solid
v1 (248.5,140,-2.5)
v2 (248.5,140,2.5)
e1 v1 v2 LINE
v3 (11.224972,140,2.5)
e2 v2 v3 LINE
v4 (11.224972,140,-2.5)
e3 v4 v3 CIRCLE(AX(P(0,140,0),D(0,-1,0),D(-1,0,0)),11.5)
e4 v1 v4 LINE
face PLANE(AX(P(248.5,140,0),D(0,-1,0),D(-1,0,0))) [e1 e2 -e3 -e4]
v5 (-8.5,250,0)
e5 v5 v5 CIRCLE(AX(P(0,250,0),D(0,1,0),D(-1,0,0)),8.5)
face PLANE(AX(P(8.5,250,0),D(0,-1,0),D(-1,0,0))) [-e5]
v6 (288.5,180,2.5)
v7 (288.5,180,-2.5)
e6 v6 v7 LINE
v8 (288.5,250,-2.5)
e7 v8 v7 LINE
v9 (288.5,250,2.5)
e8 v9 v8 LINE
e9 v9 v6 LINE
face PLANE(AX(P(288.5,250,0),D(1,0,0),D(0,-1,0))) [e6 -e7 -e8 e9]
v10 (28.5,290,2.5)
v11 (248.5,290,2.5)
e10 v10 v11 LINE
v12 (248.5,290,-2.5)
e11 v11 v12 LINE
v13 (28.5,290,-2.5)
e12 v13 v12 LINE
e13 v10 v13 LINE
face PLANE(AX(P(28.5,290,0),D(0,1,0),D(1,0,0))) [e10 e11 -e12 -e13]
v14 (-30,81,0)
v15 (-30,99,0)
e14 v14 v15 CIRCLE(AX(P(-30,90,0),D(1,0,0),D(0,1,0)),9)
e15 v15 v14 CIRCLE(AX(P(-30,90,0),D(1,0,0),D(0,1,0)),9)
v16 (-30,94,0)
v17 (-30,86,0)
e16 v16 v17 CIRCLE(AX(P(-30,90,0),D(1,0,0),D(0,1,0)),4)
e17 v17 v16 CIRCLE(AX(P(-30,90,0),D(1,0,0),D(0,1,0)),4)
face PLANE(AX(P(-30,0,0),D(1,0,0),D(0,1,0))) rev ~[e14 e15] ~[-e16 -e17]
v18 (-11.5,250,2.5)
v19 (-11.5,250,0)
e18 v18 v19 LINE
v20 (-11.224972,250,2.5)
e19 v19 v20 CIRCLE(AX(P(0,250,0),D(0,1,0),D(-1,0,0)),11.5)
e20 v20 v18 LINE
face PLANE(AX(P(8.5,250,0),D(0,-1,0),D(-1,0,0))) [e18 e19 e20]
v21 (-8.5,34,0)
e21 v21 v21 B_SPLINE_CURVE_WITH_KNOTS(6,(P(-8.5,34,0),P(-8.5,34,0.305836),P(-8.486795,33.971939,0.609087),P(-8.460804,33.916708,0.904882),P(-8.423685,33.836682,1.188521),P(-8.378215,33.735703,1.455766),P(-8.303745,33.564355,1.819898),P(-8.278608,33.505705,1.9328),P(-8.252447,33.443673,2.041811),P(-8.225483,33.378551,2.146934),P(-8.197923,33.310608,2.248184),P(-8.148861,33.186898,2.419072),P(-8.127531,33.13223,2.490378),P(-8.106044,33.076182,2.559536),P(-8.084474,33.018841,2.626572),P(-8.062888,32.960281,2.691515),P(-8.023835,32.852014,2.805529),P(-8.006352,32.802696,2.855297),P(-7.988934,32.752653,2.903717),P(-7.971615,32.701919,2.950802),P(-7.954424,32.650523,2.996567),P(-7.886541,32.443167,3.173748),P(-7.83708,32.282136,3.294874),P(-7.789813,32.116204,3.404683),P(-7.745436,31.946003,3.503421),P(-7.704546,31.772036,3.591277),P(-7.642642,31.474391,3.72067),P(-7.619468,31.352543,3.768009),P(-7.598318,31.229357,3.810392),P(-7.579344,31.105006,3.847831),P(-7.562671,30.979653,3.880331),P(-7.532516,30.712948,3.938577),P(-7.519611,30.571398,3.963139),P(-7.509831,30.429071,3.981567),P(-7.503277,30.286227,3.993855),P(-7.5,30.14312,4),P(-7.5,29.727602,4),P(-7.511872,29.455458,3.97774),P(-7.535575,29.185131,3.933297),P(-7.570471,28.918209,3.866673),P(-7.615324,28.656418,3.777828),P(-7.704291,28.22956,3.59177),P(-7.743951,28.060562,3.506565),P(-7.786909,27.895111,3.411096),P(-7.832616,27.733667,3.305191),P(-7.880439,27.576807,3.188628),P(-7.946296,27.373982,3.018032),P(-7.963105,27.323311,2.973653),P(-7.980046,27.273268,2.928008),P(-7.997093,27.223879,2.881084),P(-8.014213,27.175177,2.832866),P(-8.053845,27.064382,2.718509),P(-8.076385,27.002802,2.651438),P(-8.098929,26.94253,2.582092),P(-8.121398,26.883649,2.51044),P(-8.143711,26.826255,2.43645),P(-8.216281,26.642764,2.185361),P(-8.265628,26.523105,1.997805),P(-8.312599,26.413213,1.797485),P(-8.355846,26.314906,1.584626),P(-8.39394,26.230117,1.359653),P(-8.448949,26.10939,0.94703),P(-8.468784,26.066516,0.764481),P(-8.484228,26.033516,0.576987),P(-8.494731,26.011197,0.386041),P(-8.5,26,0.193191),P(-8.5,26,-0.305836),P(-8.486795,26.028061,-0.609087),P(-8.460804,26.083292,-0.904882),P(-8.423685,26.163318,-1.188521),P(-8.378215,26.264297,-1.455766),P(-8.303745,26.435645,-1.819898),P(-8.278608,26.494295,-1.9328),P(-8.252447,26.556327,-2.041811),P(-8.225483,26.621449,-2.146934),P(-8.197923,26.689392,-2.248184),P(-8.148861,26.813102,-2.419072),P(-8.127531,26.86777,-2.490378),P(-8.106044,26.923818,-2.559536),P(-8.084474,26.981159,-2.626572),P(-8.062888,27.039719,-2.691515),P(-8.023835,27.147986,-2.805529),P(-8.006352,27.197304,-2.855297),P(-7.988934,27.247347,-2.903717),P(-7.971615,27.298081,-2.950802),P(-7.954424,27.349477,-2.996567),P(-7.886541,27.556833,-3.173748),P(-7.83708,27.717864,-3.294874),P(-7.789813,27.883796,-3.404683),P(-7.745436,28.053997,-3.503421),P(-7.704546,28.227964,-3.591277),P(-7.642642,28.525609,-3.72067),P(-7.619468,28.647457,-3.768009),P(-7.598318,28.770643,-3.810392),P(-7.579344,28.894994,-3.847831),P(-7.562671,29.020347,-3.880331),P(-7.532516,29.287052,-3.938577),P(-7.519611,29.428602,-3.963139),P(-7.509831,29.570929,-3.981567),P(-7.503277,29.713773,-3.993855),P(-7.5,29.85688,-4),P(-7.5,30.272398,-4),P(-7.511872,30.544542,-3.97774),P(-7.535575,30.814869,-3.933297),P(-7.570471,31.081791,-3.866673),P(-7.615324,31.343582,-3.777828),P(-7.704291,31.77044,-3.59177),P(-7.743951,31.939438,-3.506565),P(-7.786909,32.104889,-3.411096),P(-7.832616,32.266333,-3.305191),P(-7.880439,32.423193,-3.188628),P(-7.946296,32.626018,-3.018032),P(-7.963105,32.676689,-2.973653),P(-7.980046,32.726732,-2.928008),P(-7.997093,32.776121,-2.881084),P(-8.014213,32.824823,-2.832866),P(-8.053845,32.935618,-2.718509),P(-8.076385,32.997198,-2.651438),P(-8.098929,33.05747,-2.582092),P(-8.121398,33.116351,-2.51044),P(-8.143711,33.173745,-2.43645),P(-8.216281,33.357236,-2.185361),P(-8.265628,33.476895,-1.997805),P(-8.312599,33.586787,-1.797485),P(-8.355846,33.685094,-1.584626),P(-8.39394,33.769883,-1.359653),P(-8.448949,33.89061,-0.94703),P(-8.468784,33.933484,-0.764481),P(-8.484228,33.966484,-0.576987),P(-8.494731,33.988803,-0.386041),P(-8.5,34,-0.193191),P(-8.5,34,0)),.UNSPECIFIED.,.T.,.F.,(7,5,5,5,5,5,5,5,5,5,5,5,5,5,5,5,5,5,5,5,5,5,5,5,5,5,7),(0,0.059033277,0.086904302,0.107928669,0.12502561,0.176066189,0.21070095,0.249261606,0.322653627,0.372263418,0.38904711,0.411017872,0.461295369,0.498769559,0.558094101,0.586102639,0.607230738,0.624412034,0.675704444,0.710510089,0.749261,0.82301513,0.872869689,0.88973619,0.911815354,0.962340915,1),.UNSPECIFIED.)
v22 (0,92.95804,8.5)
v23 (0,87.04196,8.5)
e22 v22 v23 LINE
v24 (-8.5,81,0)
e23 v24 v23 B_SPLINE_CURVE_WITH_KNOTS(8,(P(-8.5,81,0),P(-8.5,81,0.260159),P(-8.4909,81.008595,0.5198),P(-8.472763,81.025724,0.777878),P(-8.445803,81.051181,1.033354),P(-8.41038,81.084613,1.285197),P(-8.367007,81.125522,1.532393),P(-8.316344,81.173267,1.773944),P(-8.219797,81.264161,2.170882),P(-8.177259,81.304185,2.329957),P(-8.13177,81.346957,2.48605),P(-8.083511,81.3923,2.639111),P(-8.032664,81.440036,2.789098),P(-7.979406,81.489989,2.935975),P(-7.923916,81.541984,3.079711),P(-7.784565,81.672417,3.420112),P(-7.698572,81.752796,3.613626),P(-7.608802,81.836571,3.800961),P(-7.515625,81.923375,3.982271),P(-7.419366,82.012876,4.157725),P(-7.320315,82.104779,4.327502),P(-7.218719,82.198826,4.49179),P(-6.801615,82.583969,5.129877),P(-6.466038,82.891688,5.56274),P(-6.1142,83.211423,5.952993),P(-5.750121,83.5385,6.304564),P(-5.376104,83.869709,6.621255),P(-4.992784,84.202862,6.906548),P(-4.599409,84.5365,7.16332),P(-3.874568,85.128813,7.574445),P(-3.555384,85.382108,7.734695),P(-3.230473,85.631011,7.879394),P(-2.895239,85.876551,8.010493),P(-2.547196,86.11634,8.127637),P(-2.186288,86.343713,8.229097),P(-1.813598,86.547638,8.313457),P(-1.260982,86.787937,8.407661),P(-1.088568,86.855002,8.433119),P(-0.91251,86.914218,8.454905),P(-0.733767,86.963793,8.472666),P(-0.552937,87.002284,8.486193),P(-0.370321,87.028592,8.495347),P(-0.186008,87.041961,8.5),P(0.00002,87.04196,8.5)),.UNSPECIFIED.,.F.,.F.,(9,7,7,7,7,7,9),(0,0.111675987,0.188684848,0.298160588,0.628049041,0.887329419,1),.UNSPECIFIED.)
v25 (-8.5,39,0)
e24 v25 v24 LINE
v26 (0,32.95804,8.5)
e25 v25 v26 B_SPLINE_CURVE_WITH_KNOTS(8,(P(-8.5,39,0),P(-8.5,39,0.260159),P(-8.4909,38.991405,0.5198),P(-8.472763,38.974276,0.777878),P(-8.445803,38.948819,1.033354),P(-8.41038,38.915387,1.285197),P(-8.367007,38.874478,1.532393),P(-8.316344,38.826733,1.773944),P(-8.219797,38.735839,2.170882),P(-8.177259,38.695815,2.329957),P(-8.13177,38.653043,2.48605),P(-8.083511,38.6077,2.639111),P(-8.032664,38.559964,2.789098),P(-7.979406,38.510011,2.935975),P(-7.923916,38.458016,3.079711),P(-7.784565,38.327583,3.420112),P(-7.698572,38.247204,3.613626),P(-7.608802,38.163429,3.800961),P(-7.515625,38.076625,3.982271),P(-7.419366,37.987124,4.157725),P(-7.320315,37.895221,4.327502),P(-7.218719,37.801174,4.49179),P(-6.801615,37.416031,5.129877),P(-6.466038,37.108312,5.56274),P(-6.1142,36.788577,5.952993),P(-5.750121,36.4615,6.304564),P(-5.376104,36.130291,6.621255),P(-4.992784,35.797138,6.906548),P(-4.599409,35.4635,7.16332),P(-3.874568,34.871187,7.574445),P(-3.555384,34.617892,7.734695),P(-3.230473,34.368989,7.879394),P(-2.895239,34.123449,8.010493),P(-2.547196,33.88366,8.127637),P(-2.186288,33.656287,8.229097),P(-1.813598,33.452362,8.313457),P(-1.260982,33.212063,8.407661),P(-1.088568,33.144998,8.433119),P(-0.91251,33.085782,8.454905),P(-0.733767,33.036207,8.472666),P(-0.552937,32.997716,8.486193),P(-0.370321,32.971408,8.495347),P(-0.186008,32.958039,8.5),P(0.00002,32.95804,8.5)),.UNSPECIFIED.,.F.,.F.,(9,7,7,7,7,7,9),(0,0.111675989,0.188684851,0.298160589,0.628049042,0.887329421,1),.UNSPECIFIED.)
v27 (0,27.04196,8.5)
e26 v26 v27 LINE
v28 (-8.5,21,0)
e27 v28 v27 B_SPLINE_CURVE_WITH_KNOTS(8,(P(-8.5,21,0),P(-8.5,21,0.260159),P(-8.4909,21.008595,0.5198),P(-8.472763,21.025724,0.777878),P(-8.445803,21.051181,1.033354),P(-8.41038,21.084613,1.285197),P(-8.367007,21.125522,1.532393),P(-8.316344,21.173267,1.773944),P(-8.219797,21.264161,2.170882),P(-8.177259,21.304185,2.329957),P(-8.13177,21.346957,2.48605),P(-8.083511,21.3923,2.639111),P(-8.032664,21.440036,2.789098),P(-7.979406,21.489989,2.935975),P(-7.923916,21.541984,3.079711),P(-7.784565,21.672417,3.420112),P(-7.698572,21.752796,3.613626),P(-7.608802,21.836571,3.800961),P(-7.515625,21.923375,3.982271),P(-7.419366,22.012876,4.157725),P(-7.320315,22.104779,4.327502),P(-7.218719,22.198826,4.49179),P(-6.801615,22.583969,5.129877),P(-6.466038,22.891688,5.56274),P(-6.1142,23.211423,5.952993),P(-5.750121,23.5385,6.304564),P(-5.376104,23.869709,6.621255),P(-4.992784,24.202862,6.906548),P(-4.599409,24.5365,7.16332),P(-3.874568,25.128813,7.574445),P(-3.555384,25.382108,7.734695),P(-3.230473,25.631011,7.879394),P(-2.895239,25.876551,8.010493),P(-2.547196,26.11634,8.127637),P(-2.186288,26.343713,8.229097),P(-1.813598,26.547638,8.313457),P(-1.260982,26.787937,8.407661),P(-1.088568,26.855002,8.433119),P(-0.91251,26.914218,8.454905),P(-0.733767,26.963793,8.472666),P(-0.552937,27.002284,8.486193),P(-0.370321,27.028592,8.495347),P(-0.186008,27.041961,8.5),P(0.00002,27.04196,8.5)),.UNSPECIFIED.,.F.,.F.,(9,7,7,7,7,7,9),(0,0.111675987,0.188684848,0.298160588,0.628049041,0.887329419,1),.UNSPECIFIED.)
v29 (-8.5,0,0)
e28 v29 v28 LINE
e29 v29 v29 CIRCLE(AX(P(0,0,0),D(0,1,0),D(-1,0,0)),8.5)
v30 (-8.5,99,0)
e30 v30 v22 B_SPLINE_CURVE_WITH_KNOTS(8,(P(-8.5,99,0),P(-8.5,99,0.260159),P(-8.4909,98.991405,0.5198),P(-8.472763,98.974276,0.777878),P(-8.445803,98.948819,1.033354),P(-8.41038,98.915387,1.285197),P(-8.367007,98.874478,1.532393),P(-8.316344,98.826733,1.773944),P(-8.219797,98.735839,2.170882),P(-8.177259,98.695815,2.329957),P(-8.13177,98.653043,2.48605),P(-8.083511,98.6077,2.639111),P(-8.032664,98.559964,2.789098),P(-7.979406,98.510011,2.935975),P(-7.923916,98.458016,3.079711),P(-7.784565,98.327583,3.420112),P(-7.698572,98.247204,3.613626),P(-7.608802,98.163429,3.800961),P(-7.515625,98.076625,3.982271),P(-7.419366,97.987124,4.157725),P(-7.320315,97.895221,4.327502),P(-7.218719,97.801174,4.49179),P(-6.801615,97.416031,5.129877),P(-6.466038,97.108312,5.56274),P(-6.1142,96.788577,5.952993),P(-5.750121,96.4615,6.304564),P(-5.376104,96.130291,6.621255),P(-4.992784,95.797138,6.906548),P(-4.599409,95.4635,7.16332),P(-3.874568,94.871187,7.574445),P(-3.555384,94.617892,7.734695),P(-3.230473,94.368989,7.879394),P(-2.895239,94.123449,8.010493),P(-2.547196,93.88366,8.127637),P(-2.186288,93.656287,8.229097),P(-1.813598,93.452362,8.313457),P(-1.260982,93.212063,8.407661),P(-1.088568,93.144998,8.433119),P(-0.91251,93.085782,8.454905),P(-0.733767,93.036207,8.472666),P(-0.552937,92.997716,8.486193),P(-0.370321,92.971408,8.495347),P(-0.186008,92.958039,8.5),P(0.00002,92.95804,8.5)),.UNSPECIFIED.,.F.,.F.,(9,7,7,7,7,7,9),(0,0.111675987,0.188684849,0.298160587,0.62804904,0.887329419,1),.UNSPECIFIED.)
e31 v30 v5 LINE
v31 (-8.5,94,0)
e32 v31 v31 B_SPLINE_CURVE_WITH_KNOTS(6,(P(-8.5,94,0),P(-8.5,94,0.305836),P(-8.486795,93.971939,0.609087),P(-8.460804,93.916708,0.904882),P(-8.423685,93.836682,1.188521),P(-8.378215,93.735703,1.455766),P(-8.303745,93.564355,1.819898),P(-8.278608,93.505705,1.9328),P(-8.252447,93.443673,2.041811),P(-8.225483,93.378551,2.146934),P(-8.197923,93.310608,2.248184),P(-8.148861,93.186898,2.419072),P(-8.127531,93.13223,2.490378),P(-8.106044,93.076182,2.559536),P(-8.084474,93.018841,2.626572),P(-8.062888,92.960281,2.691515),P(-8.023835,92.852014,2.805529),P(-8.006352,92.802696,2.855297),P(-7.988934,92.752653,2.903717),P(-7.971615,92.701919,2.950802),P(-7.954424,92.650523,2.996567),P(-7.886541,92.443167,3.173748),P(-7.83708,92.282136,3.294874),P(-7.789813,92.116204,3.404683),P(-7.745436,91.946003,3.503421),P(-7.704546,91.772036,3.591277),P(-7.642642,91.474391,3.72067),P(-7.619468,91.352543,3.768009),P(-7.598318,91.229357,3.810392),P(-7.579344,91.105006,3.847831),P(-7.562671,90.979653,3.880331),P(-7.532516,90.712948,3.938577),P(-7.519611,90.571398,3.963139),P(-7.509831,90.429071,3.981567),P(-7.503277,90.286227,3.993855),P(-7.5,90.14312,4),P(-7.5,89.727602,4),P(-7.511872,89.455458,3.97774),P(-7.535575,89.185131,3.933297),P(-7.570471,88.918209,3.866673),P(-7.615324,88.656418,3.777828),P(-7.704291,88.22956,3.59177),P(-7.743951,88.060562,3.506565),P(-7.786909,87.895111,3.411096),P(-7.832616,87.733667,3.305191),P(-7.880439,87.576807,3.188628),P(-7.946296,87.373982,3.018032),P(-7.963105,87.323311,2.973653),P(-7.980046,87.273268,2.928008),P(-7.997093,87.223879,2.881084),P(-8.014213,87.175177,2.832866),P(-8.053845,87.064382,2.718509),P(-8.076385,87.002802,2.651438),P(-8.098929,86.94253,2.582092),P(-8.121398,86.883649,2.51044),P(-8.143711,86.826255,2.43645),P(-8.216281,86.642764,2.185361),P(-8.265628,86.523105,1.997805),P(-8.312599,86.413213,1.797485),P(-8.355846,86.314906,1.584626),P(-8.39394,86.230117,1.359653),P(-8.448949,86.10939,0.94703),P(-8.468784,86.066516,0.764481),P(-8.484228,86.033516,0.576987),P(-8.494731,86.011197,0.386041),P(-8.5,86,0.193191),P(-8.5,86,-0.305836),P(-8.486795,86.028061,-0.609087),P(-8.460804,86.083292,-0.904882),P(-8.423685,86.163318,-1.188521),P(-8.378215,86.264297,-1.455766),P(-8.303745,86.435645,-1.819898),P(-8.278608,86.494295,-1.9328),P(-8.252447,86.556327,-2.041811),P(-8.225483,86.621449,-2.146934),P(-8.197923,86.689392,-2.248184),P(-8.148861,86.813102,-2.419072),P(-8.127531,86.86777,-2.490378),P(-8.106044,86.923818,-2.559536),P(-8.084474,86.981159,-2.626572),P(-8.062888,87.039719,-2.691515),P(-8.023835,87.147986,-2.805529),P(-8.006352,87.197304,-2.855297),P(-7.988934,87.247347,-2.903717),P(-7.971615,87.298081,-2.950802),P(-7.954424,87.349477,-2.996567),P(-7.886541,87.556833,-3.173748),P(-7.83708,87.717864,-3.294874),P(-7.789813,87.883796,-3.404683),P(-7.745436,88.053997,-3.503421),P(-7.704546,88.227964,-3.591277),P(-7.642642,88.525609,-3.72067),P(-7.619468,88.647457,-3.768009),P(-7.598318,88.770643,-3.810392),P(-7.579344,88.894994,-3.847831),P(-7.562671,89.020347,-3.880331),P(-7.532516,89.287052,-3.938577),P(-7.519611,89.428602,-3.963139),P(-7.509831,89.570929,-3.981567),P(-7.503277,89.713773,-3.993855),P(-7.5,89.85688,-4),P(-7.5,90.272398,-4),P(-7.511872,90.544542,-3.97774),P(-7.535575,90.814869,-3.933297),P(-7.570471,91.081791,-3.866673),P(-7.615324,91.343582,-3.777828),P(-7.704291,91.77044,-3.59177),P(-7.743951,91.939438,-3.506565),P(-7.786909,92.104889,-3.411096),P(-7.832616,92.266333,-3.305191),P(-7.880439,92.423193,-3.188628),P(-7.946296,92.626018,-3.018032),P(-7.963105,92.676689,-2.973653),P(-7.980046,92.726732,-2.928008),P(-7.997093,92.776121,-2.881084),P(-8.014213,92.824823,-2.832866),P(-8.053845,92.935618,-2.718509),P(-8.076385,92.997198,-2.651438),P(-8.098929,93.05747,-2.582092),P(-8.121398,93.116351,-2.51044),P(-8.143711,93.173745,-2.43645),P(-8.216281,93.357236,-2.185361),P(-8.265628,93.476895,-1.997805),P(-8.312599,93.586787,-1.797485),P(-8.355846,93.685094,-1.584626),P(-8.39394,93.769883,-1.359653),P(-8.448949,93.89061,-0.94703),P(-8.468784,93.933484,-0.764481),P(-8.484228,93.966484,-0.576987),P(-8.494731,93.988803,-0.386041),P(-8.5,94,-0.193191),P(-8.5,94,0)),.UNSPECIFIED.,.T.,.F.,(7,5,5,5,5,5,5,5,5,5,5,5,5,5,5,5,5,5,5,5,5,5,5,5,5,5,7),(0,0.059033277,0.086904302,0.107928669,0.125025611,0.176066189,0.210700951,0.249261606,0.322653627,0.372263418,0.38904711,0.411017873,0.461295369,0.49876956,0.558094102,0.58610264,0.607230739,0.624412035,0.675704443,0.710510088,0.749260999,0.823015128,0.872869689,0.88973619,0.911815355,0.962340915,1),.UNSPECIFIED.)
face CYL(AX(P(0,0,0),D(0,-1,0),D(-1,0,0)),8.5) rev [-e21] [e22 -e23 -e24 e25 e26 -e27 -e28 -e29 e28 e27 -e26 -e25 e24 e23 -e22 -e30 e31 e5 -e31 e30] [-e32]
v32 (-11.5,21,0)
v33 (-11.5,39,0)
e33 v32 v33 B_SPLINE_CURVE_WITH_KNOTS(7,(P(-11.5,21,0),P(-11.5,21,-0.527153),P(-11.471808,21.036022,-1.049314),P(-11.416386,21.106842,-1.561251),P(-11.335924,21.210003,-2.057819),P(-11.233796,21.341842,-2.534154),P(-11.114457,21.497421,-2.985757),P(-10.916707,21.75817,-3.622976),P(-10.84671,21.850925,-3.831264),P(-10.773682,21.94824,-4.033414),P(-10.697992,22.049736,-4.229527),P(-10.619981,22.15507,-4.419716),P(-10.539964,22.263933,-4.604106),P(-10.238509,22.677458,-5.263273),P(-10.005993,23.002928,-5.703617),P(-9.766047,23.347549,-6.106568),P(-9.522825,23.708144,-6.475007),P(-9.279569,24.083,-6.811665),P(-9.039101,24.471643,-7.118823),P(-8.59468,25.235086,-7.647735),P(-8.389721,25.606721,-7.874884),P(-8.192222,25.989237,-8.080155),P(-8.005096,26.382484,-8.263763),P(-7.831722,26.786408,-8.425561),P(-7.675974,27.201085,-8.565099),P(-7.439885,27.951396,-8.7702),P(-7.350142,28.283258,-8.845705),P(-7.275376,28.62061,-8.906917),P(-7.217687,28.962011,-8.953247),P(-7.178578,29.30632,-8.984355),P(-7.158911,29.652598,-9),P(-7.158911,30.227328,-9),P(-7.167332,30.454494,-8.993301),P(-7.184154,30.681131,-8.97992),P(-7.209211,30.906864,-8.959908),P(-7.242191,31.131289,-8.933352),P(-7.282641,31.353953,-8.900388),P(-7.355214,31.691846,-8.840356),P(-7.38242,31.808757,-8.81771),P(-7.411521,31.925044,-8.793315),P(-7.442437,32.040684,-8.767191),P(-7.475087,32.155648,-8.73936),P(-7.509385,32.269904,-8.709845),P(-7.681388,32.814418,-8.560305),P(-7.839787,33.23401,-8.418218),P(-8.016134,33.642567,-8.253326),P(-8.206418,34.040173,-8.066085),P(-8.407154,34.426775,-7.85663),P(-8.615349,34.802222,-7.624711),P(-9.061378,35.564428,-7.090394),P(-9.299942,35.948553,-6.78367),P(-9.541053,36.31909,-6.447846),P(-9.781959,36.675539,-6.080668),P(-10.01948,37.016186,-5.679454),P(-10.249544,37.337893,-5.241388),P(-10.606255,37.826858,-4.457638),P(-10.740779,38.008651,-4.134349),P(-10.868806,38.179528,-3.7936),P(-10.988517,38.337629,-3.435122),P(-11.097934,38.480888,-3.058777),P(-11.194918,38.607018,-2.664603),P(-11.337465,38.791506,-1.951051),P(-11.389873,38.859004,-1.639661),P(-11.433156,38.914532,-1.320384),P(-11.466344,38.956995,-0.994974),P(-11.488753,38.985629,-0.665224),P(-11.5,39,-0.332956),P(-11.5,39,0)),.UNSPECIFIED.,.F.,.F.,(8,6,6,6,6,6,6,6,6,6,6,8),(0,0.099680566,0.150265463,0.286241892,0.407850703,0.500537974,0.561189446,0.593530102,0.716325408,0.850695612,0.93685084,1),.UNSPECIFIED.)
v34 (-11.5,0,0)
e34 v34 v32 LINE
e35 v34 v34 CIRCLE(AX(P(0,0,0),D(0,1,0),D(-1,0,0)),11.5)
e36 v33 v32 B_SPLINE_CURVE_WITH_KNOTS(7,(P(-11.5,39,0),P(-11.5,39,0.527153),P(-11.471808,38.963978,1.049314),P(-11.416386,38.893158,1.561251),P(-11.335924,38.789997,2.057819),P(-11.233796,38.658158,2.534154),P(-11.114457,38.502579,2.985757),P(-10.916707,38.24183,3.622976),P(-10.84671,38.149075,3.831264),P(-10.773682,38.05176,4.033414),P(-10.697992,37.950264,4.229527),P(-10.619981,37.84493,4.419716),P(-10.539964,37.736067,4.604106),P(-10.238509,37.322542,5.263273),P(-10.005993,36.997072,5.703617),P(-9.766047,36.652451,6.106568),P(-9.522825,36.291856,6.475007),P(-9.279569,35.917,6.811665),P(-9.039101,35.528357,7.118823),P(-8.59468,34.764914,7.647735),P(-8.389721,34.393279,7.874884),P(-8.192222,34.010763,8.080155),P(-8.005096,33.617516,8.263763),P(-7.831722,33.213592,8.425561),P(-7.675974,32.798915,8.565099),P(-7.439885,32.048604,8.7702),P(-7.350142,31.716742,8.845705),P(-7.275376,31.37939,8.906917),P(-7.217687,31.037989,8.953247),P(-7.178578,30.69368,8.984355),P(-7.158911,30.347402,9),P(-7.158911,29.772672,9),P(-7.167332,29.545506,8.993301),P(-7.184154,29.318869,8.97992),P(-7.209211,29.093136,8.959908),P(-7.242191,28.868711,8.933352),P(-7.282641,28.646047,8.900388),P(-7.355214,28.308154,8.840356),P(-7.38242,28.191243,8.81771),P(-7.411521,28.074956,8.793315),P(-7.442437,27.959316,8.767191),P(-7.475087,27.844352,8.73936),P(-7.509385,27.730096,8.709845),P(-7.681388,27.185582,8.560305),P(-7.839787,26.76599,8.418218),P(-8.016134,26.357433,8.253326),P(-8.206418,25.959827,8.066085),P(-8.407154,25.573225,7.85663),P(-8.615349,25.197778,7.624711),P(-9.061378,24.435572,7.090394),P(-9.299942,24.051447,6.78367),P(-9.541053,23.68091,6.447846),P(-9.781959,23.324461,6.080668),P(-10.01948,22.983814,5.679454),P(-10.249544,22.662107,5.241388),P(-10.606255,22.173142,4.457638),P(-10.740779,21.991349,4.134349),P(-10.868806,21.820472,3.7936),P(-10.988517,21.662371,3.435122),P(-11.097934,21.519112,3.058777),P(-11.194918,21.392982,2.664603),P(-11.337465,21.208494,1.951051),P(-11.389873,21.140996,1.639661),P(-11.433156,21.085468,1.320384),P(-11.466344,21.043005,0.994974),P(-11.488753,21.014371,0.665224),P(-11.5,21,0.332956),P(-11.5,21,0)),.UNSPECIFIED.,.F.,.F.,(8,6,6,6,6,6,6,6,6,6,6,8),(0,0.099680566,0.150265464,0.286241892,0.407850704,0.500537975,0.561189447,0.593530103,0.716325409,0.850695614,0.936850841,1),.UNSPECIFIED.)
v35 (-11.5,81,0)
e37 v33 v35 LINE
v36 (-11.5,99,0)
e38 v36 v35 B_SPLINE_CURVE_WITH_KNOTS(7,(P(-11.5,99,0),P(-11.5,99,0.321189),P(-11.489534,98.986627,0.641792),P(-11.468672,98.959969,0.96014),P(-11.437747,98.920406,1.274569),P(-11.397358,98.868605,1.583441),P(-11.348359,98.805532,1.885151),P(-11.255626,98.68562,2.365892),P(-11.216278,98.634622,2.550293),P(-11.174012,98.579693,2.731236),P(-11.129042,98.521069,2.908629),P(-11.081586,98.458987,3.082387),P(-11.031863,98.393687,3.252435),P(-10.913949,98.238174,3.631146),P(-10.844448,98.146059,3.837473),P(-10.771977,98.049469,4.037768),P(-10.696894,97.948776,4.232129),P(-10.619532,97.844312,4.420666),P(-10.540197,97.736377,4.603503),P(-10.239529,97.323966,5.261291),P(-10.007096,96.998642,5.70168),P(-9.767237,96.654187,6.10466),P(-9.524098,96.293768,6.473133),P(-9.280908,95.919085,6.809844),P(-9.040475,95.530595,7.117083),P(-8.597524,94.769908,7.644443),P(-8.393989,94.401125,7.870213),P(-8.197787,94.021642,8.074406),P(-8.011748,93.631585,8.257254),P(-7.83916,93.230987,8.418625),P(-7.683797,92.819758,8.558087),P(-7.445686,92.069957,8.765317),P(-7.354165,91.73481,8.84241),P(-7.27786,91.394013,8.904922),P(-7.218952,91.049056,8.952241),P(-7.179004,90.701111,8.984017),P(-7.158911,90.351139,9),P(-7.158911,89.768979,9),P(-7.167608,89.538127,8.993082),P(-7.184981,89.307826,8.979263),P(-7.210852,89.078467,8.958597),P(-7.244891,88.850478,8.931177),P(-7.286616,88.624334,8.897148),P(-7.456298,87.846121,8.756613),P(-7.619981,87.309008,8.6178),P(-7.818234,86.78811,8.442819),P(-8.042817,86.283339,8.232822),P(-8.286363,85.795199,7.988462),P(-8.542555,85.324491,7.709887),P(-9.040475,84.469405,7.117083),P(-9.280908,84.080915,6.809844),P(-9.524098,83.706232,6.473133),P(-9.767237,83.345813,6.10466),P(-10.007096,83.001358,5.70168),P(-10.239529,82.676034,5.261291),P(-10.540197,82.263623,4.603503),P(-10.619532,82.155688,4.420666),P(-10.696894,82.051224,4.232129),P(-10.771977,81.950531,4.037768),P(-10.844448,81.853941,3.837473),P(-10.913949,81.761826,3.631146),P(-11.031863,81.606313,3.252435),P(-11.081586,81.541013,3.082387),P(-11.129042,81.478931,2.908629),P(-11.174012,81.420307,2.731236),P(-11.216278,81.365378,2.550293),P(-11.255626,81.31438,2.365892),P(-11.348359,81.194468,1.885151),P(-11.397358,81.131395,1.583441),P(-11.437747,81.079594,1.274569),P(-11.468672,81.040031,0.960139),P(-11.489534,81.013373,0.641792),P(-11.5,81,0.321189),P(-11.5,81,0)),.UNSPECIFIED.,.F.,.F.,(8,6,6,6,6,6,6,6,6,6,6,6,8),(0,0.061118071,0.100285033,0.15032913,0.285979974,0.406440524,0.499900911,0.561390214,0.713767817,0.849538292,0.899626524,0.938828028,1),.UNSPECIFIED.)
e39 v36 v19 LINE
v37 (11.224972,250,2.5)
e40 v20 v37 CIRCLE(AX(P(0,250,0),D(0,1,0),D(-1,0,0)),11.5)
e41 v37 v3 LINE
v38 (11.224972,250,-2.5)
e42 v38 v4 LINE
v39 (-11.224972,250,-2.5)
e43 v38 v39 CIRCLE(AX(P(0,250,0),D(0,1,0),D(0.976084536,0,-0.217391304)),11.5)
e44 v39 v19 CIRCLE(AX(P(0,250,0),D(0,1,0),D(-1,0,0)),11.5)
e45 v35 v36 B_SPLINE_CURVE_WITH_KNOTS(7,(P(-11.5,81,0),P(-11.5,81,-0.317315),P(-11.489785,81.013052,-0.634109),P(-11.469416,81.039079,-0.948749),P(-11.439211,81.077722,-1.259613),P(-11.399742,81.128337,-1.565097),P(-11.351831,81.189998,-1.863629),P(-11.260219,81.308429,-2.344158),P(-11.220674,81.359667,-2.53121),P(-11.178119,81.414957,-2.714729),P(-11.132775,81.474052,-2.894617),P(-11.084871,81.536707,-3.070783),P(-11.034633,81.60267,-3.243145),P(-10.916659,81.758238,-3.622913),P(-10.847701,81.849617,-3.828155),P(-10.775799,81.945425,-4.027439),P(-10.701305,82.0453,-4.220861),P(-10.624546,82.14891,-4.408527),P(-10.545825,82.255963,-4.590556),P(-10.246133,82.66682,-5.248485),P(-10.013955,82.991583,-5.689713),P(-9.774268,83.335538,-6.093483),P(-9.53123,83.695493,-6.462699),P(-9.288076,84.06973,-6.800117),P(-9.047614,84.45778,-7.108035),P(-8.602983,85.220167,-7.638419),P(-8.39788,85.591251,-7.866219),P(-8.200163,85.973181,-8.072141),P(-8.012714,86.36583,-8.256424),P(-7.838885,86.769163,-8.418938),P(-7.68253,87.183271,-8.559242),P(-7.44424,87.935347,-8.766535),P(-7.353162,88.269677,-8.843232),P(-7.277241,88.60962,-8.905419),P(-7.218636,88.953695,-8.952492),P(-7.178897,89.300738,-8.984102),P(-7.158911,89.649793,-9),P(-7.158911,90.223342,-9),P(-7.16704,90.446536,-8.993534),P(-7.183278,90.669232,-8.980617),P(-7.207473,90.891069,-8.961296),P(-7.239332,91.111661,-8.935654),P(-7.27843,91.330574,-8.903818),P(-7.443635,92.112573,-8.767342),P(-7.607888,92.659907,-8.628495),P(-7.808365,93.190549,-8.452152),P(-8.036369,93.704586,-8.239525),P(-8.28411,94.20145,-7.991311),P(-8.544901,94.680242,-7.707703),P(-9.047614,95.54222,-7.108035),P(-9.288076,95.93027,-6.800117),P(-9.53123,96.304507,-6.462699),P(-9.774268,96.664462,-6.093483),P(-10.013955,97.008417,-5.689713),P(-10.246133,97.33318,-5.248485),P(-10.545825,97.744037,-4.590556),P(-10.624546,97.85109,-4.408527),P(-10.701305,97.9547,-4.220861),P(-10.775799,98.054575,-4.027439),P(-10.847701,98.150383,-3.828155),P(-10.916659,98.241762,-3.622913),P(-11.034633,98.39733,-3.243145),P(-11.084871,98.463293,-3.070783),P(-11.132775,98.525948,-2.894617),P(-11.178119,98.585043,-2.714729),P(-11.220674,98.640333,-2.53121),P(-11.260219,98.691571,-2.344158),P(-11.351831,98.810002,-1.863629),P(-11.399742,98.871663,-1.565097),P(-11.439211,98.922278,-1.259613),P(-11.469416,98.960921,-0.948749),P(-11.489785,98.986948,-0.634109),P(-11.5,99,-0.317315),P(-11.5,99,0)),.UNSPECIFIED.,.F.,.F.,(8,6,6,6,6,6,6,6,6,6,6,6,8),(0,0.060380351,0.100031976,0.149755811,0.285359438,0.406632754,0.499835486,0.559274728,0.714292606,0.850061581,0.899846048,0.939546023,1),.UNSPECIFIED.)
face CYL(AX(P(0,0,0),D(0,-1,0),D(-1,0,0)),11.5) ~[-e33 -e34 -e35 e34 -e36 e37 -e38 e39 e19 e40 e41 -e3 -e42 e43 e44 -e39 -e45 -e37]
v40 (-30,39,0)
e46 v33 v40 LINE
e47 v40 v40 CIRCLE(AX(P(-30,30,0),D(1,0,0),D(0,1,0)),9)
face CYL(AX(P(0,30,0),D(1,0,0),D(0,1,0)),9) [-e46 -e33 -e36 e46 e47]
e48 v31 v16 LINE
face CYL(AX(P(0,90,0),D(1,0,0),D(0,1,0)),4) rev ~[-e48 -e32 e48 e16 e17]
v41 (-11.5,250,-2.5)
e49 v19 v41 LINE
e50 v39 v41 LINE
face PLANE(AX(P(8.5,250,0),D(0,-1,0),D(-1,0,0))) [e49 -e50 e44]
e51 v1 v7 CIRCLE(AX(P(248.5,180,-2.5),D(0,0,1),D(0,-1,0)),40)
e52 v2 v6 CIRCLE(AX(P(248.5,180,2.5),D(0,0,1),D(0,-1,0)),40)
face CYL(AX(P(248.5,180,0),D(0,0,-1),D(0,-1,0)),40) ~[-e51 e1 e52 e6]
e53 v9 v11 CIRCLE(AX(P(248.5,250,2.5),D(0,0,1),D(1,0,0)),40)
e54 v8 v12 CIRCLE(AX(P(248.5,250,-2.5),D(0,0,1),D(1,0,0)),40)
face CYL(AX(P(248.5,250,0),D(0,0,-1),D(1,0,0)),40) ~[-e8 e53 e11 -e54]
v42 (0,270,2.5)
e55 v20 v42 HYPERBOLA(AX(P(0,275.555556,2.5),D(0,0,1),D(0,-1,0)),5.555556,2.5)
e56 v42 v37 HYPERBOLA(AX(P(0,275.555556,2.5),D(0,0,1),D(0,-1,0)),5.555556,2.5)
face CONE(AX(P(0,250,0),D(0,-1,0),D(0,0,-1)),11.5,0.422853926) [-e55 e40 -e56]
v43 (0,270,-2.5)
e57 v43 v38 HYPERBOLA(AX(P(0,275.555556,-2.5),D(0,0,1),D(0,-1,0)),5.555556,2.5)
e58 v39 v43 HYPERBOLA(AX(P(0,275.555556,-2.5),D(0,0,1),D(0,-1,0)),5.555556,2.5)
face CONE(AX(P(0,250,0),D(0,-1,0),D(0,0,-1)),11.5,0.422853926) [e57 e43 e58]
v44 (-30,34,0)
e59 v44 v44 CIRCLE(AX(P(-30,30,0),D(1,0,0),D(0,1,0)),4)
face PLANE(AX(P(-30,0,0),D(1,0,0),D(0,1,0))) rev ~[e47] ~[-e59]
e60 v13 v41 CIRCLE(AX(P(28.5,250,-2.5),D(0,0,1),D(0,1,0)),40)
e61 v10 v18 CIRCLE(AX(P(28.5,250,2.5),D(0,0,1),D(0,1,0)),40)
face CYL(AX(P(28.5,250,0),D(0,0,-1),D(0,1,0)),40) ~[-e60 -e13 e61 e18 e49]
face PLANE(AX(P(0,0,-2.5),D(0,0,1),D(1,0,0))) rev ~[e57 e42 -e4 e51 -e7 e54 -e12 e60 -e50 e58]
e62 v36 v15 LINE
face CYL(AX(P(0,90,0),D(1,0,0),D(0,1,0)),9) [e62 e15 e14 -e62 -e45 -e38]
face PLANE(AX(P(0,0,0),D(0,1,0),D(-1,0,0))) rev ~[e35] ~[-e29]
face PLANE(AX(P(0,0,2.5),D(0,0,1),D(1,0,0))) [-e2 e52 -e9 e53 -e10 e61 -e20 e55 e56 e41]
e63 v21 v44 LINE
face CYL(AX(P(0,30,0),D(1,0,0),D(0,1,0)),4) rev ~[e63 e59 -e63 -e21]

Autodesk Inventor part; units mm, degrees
ref_plane "YZ Plane" through (0, 0, 0) normal (1, 0, 0) x (0, 1, 0)
ref_plane "XZ Plane" through (0, 0, 0) normal (0, 1, 0) x (-1, 0, 0)
ref_plane "XY Plane" through (0, 0, 0) normal (0, 0, 1) x (1, 0, 0)
sketch "Skizze1" plane through (0, 0, 0) normal (0, 1, 0) x (-1, 0, 0)
  circle A0 centre (0, 0) radius 8.5
  circle A1 centre (0, 0) radius 11.5
  dimension "d0" = 17
  dimension "d1" = 3
extrude "Extrusion1" add sketch "Skizze1" along normal blind 250
sketch "Skizze2" plane through (0, 0, 0) normal (0, 0, 1) x (1, 0, 0)
  line L0 (11.5, 250) -> (-11.5, 250) projected
  line L1 (-11.5, 250) -> (-11.5, 250)
  line L2 (28.5, 290) -> (248.5, 290)
  line L3 (288.5, 250) -> (288.5, 180)
  line L4 (248.5, 140) -> (8.5, 140)
  line L5 (8.5, 250) -> (8.5, 0) projected
  arc A0 (248.5, 140) -> (288.5, 180) centre (248.5, 180) ccw
  arc A1 (288.5, 250) -> (248.5, 290) centre (248.5, 250) ccw
  arc A2 (28.5, 290) -> (-11.5, 250) centre (28.5, 250) ccw
  point P0 (0, 0)
  point P1 (-11.5, 290)
  point P2 (288.5, 290)
  point P3 (288.5, 140)
  dimension "d4" = 40
  dimension "d5" = 300
  dimension "d6" = 150
  dimension "d7" = 40
extrude "Extrusion2" add sketch "Skizze2" along normal mid plane 5
sketch "Skizze3" plane through (0, 0, 0) normal (1, 0, 0) x (0, 1, 0)
  line L0 (250, -11.5) -> (250, -2.5) projected
  line L1 (250, -2.5) -> (180, -2.5) projected
  line L2 (250, -2.5) -> (250, -2.5)
  line L3 (250, -2.5) -> (250, -11.5)
  line L4 (-70, 0) -> (420, 0) projected
  line L5 (250, -11.5) -> (270, -2.5)
  line L6 (250, -2.5) -> (290, -2.5) projected
  point P0 (0, 0)
revolve "Umdrehung1" add sketch "Skizze3" angle 360 about axis through (0, -10, 0) along (0, 1, 0)
sketch "Skizze4" plane through (0, 0, 0) normal (1, 0, 0) x (0, 1, 0)
  line L0 (0, 0) -> (30, 0)
  line L1 (30, 0) -> (90, 0)
  circle A0 centre (30, 0) radius 5
  circle A1 centre (90, 0) radius 5
  dimension "d11" = 30
  dimension "d12" = 60
  dimension "d13" = 10
  dimension "d14" = 10
extrude "Extrusion3" cut sketch "Skizze4" against normal through all
sketch "Skizze5" plane through (0, 0, 0) normal (1, 0, 0) x (0, 1, 0)
  line L0 (0, 0) -> (30, 0)
  circle A0 centre (30, 0) radius 4
  circle A1 centre (30, 0) radius 9
  line L1 (30, 0) -> (90, 0)
  circle A2 centre (90, 0) radius 4
  circle A3 centre (90, 0) radius 9
  dimension "d17" = 30
  dimension "d18" = 8
  dimension "d19" = 5
  dimension "d20" = 60
  dimension "d21" = 8
  dimension "d22" = 5
extrude "Extrusion4" add sketch "Skizze5" against normal blind 30 contours A1 L1 A0 L0 | A3 | L0 A0 L1 A1
sketch "Skizze6" plane through (0, 0, 0) normal (0, -1, 0) x (1, 0, 0)
  circle A0 centre (0, 0) radius 8.5
  dimension "d25" = 17
extrude "Extrusion5" cut sketch "Skizze6" against normal blind 250
thread "Gewinde3" size "M8x1.25" class "6H" standard "ANSI Metric M Profile" length 60
thread "Gewinde4" size "M8x1.25" class "6H" standard "ANSI Metric M Profile" length 60
properties part number "HTW-000692" material "PVC, hart"
